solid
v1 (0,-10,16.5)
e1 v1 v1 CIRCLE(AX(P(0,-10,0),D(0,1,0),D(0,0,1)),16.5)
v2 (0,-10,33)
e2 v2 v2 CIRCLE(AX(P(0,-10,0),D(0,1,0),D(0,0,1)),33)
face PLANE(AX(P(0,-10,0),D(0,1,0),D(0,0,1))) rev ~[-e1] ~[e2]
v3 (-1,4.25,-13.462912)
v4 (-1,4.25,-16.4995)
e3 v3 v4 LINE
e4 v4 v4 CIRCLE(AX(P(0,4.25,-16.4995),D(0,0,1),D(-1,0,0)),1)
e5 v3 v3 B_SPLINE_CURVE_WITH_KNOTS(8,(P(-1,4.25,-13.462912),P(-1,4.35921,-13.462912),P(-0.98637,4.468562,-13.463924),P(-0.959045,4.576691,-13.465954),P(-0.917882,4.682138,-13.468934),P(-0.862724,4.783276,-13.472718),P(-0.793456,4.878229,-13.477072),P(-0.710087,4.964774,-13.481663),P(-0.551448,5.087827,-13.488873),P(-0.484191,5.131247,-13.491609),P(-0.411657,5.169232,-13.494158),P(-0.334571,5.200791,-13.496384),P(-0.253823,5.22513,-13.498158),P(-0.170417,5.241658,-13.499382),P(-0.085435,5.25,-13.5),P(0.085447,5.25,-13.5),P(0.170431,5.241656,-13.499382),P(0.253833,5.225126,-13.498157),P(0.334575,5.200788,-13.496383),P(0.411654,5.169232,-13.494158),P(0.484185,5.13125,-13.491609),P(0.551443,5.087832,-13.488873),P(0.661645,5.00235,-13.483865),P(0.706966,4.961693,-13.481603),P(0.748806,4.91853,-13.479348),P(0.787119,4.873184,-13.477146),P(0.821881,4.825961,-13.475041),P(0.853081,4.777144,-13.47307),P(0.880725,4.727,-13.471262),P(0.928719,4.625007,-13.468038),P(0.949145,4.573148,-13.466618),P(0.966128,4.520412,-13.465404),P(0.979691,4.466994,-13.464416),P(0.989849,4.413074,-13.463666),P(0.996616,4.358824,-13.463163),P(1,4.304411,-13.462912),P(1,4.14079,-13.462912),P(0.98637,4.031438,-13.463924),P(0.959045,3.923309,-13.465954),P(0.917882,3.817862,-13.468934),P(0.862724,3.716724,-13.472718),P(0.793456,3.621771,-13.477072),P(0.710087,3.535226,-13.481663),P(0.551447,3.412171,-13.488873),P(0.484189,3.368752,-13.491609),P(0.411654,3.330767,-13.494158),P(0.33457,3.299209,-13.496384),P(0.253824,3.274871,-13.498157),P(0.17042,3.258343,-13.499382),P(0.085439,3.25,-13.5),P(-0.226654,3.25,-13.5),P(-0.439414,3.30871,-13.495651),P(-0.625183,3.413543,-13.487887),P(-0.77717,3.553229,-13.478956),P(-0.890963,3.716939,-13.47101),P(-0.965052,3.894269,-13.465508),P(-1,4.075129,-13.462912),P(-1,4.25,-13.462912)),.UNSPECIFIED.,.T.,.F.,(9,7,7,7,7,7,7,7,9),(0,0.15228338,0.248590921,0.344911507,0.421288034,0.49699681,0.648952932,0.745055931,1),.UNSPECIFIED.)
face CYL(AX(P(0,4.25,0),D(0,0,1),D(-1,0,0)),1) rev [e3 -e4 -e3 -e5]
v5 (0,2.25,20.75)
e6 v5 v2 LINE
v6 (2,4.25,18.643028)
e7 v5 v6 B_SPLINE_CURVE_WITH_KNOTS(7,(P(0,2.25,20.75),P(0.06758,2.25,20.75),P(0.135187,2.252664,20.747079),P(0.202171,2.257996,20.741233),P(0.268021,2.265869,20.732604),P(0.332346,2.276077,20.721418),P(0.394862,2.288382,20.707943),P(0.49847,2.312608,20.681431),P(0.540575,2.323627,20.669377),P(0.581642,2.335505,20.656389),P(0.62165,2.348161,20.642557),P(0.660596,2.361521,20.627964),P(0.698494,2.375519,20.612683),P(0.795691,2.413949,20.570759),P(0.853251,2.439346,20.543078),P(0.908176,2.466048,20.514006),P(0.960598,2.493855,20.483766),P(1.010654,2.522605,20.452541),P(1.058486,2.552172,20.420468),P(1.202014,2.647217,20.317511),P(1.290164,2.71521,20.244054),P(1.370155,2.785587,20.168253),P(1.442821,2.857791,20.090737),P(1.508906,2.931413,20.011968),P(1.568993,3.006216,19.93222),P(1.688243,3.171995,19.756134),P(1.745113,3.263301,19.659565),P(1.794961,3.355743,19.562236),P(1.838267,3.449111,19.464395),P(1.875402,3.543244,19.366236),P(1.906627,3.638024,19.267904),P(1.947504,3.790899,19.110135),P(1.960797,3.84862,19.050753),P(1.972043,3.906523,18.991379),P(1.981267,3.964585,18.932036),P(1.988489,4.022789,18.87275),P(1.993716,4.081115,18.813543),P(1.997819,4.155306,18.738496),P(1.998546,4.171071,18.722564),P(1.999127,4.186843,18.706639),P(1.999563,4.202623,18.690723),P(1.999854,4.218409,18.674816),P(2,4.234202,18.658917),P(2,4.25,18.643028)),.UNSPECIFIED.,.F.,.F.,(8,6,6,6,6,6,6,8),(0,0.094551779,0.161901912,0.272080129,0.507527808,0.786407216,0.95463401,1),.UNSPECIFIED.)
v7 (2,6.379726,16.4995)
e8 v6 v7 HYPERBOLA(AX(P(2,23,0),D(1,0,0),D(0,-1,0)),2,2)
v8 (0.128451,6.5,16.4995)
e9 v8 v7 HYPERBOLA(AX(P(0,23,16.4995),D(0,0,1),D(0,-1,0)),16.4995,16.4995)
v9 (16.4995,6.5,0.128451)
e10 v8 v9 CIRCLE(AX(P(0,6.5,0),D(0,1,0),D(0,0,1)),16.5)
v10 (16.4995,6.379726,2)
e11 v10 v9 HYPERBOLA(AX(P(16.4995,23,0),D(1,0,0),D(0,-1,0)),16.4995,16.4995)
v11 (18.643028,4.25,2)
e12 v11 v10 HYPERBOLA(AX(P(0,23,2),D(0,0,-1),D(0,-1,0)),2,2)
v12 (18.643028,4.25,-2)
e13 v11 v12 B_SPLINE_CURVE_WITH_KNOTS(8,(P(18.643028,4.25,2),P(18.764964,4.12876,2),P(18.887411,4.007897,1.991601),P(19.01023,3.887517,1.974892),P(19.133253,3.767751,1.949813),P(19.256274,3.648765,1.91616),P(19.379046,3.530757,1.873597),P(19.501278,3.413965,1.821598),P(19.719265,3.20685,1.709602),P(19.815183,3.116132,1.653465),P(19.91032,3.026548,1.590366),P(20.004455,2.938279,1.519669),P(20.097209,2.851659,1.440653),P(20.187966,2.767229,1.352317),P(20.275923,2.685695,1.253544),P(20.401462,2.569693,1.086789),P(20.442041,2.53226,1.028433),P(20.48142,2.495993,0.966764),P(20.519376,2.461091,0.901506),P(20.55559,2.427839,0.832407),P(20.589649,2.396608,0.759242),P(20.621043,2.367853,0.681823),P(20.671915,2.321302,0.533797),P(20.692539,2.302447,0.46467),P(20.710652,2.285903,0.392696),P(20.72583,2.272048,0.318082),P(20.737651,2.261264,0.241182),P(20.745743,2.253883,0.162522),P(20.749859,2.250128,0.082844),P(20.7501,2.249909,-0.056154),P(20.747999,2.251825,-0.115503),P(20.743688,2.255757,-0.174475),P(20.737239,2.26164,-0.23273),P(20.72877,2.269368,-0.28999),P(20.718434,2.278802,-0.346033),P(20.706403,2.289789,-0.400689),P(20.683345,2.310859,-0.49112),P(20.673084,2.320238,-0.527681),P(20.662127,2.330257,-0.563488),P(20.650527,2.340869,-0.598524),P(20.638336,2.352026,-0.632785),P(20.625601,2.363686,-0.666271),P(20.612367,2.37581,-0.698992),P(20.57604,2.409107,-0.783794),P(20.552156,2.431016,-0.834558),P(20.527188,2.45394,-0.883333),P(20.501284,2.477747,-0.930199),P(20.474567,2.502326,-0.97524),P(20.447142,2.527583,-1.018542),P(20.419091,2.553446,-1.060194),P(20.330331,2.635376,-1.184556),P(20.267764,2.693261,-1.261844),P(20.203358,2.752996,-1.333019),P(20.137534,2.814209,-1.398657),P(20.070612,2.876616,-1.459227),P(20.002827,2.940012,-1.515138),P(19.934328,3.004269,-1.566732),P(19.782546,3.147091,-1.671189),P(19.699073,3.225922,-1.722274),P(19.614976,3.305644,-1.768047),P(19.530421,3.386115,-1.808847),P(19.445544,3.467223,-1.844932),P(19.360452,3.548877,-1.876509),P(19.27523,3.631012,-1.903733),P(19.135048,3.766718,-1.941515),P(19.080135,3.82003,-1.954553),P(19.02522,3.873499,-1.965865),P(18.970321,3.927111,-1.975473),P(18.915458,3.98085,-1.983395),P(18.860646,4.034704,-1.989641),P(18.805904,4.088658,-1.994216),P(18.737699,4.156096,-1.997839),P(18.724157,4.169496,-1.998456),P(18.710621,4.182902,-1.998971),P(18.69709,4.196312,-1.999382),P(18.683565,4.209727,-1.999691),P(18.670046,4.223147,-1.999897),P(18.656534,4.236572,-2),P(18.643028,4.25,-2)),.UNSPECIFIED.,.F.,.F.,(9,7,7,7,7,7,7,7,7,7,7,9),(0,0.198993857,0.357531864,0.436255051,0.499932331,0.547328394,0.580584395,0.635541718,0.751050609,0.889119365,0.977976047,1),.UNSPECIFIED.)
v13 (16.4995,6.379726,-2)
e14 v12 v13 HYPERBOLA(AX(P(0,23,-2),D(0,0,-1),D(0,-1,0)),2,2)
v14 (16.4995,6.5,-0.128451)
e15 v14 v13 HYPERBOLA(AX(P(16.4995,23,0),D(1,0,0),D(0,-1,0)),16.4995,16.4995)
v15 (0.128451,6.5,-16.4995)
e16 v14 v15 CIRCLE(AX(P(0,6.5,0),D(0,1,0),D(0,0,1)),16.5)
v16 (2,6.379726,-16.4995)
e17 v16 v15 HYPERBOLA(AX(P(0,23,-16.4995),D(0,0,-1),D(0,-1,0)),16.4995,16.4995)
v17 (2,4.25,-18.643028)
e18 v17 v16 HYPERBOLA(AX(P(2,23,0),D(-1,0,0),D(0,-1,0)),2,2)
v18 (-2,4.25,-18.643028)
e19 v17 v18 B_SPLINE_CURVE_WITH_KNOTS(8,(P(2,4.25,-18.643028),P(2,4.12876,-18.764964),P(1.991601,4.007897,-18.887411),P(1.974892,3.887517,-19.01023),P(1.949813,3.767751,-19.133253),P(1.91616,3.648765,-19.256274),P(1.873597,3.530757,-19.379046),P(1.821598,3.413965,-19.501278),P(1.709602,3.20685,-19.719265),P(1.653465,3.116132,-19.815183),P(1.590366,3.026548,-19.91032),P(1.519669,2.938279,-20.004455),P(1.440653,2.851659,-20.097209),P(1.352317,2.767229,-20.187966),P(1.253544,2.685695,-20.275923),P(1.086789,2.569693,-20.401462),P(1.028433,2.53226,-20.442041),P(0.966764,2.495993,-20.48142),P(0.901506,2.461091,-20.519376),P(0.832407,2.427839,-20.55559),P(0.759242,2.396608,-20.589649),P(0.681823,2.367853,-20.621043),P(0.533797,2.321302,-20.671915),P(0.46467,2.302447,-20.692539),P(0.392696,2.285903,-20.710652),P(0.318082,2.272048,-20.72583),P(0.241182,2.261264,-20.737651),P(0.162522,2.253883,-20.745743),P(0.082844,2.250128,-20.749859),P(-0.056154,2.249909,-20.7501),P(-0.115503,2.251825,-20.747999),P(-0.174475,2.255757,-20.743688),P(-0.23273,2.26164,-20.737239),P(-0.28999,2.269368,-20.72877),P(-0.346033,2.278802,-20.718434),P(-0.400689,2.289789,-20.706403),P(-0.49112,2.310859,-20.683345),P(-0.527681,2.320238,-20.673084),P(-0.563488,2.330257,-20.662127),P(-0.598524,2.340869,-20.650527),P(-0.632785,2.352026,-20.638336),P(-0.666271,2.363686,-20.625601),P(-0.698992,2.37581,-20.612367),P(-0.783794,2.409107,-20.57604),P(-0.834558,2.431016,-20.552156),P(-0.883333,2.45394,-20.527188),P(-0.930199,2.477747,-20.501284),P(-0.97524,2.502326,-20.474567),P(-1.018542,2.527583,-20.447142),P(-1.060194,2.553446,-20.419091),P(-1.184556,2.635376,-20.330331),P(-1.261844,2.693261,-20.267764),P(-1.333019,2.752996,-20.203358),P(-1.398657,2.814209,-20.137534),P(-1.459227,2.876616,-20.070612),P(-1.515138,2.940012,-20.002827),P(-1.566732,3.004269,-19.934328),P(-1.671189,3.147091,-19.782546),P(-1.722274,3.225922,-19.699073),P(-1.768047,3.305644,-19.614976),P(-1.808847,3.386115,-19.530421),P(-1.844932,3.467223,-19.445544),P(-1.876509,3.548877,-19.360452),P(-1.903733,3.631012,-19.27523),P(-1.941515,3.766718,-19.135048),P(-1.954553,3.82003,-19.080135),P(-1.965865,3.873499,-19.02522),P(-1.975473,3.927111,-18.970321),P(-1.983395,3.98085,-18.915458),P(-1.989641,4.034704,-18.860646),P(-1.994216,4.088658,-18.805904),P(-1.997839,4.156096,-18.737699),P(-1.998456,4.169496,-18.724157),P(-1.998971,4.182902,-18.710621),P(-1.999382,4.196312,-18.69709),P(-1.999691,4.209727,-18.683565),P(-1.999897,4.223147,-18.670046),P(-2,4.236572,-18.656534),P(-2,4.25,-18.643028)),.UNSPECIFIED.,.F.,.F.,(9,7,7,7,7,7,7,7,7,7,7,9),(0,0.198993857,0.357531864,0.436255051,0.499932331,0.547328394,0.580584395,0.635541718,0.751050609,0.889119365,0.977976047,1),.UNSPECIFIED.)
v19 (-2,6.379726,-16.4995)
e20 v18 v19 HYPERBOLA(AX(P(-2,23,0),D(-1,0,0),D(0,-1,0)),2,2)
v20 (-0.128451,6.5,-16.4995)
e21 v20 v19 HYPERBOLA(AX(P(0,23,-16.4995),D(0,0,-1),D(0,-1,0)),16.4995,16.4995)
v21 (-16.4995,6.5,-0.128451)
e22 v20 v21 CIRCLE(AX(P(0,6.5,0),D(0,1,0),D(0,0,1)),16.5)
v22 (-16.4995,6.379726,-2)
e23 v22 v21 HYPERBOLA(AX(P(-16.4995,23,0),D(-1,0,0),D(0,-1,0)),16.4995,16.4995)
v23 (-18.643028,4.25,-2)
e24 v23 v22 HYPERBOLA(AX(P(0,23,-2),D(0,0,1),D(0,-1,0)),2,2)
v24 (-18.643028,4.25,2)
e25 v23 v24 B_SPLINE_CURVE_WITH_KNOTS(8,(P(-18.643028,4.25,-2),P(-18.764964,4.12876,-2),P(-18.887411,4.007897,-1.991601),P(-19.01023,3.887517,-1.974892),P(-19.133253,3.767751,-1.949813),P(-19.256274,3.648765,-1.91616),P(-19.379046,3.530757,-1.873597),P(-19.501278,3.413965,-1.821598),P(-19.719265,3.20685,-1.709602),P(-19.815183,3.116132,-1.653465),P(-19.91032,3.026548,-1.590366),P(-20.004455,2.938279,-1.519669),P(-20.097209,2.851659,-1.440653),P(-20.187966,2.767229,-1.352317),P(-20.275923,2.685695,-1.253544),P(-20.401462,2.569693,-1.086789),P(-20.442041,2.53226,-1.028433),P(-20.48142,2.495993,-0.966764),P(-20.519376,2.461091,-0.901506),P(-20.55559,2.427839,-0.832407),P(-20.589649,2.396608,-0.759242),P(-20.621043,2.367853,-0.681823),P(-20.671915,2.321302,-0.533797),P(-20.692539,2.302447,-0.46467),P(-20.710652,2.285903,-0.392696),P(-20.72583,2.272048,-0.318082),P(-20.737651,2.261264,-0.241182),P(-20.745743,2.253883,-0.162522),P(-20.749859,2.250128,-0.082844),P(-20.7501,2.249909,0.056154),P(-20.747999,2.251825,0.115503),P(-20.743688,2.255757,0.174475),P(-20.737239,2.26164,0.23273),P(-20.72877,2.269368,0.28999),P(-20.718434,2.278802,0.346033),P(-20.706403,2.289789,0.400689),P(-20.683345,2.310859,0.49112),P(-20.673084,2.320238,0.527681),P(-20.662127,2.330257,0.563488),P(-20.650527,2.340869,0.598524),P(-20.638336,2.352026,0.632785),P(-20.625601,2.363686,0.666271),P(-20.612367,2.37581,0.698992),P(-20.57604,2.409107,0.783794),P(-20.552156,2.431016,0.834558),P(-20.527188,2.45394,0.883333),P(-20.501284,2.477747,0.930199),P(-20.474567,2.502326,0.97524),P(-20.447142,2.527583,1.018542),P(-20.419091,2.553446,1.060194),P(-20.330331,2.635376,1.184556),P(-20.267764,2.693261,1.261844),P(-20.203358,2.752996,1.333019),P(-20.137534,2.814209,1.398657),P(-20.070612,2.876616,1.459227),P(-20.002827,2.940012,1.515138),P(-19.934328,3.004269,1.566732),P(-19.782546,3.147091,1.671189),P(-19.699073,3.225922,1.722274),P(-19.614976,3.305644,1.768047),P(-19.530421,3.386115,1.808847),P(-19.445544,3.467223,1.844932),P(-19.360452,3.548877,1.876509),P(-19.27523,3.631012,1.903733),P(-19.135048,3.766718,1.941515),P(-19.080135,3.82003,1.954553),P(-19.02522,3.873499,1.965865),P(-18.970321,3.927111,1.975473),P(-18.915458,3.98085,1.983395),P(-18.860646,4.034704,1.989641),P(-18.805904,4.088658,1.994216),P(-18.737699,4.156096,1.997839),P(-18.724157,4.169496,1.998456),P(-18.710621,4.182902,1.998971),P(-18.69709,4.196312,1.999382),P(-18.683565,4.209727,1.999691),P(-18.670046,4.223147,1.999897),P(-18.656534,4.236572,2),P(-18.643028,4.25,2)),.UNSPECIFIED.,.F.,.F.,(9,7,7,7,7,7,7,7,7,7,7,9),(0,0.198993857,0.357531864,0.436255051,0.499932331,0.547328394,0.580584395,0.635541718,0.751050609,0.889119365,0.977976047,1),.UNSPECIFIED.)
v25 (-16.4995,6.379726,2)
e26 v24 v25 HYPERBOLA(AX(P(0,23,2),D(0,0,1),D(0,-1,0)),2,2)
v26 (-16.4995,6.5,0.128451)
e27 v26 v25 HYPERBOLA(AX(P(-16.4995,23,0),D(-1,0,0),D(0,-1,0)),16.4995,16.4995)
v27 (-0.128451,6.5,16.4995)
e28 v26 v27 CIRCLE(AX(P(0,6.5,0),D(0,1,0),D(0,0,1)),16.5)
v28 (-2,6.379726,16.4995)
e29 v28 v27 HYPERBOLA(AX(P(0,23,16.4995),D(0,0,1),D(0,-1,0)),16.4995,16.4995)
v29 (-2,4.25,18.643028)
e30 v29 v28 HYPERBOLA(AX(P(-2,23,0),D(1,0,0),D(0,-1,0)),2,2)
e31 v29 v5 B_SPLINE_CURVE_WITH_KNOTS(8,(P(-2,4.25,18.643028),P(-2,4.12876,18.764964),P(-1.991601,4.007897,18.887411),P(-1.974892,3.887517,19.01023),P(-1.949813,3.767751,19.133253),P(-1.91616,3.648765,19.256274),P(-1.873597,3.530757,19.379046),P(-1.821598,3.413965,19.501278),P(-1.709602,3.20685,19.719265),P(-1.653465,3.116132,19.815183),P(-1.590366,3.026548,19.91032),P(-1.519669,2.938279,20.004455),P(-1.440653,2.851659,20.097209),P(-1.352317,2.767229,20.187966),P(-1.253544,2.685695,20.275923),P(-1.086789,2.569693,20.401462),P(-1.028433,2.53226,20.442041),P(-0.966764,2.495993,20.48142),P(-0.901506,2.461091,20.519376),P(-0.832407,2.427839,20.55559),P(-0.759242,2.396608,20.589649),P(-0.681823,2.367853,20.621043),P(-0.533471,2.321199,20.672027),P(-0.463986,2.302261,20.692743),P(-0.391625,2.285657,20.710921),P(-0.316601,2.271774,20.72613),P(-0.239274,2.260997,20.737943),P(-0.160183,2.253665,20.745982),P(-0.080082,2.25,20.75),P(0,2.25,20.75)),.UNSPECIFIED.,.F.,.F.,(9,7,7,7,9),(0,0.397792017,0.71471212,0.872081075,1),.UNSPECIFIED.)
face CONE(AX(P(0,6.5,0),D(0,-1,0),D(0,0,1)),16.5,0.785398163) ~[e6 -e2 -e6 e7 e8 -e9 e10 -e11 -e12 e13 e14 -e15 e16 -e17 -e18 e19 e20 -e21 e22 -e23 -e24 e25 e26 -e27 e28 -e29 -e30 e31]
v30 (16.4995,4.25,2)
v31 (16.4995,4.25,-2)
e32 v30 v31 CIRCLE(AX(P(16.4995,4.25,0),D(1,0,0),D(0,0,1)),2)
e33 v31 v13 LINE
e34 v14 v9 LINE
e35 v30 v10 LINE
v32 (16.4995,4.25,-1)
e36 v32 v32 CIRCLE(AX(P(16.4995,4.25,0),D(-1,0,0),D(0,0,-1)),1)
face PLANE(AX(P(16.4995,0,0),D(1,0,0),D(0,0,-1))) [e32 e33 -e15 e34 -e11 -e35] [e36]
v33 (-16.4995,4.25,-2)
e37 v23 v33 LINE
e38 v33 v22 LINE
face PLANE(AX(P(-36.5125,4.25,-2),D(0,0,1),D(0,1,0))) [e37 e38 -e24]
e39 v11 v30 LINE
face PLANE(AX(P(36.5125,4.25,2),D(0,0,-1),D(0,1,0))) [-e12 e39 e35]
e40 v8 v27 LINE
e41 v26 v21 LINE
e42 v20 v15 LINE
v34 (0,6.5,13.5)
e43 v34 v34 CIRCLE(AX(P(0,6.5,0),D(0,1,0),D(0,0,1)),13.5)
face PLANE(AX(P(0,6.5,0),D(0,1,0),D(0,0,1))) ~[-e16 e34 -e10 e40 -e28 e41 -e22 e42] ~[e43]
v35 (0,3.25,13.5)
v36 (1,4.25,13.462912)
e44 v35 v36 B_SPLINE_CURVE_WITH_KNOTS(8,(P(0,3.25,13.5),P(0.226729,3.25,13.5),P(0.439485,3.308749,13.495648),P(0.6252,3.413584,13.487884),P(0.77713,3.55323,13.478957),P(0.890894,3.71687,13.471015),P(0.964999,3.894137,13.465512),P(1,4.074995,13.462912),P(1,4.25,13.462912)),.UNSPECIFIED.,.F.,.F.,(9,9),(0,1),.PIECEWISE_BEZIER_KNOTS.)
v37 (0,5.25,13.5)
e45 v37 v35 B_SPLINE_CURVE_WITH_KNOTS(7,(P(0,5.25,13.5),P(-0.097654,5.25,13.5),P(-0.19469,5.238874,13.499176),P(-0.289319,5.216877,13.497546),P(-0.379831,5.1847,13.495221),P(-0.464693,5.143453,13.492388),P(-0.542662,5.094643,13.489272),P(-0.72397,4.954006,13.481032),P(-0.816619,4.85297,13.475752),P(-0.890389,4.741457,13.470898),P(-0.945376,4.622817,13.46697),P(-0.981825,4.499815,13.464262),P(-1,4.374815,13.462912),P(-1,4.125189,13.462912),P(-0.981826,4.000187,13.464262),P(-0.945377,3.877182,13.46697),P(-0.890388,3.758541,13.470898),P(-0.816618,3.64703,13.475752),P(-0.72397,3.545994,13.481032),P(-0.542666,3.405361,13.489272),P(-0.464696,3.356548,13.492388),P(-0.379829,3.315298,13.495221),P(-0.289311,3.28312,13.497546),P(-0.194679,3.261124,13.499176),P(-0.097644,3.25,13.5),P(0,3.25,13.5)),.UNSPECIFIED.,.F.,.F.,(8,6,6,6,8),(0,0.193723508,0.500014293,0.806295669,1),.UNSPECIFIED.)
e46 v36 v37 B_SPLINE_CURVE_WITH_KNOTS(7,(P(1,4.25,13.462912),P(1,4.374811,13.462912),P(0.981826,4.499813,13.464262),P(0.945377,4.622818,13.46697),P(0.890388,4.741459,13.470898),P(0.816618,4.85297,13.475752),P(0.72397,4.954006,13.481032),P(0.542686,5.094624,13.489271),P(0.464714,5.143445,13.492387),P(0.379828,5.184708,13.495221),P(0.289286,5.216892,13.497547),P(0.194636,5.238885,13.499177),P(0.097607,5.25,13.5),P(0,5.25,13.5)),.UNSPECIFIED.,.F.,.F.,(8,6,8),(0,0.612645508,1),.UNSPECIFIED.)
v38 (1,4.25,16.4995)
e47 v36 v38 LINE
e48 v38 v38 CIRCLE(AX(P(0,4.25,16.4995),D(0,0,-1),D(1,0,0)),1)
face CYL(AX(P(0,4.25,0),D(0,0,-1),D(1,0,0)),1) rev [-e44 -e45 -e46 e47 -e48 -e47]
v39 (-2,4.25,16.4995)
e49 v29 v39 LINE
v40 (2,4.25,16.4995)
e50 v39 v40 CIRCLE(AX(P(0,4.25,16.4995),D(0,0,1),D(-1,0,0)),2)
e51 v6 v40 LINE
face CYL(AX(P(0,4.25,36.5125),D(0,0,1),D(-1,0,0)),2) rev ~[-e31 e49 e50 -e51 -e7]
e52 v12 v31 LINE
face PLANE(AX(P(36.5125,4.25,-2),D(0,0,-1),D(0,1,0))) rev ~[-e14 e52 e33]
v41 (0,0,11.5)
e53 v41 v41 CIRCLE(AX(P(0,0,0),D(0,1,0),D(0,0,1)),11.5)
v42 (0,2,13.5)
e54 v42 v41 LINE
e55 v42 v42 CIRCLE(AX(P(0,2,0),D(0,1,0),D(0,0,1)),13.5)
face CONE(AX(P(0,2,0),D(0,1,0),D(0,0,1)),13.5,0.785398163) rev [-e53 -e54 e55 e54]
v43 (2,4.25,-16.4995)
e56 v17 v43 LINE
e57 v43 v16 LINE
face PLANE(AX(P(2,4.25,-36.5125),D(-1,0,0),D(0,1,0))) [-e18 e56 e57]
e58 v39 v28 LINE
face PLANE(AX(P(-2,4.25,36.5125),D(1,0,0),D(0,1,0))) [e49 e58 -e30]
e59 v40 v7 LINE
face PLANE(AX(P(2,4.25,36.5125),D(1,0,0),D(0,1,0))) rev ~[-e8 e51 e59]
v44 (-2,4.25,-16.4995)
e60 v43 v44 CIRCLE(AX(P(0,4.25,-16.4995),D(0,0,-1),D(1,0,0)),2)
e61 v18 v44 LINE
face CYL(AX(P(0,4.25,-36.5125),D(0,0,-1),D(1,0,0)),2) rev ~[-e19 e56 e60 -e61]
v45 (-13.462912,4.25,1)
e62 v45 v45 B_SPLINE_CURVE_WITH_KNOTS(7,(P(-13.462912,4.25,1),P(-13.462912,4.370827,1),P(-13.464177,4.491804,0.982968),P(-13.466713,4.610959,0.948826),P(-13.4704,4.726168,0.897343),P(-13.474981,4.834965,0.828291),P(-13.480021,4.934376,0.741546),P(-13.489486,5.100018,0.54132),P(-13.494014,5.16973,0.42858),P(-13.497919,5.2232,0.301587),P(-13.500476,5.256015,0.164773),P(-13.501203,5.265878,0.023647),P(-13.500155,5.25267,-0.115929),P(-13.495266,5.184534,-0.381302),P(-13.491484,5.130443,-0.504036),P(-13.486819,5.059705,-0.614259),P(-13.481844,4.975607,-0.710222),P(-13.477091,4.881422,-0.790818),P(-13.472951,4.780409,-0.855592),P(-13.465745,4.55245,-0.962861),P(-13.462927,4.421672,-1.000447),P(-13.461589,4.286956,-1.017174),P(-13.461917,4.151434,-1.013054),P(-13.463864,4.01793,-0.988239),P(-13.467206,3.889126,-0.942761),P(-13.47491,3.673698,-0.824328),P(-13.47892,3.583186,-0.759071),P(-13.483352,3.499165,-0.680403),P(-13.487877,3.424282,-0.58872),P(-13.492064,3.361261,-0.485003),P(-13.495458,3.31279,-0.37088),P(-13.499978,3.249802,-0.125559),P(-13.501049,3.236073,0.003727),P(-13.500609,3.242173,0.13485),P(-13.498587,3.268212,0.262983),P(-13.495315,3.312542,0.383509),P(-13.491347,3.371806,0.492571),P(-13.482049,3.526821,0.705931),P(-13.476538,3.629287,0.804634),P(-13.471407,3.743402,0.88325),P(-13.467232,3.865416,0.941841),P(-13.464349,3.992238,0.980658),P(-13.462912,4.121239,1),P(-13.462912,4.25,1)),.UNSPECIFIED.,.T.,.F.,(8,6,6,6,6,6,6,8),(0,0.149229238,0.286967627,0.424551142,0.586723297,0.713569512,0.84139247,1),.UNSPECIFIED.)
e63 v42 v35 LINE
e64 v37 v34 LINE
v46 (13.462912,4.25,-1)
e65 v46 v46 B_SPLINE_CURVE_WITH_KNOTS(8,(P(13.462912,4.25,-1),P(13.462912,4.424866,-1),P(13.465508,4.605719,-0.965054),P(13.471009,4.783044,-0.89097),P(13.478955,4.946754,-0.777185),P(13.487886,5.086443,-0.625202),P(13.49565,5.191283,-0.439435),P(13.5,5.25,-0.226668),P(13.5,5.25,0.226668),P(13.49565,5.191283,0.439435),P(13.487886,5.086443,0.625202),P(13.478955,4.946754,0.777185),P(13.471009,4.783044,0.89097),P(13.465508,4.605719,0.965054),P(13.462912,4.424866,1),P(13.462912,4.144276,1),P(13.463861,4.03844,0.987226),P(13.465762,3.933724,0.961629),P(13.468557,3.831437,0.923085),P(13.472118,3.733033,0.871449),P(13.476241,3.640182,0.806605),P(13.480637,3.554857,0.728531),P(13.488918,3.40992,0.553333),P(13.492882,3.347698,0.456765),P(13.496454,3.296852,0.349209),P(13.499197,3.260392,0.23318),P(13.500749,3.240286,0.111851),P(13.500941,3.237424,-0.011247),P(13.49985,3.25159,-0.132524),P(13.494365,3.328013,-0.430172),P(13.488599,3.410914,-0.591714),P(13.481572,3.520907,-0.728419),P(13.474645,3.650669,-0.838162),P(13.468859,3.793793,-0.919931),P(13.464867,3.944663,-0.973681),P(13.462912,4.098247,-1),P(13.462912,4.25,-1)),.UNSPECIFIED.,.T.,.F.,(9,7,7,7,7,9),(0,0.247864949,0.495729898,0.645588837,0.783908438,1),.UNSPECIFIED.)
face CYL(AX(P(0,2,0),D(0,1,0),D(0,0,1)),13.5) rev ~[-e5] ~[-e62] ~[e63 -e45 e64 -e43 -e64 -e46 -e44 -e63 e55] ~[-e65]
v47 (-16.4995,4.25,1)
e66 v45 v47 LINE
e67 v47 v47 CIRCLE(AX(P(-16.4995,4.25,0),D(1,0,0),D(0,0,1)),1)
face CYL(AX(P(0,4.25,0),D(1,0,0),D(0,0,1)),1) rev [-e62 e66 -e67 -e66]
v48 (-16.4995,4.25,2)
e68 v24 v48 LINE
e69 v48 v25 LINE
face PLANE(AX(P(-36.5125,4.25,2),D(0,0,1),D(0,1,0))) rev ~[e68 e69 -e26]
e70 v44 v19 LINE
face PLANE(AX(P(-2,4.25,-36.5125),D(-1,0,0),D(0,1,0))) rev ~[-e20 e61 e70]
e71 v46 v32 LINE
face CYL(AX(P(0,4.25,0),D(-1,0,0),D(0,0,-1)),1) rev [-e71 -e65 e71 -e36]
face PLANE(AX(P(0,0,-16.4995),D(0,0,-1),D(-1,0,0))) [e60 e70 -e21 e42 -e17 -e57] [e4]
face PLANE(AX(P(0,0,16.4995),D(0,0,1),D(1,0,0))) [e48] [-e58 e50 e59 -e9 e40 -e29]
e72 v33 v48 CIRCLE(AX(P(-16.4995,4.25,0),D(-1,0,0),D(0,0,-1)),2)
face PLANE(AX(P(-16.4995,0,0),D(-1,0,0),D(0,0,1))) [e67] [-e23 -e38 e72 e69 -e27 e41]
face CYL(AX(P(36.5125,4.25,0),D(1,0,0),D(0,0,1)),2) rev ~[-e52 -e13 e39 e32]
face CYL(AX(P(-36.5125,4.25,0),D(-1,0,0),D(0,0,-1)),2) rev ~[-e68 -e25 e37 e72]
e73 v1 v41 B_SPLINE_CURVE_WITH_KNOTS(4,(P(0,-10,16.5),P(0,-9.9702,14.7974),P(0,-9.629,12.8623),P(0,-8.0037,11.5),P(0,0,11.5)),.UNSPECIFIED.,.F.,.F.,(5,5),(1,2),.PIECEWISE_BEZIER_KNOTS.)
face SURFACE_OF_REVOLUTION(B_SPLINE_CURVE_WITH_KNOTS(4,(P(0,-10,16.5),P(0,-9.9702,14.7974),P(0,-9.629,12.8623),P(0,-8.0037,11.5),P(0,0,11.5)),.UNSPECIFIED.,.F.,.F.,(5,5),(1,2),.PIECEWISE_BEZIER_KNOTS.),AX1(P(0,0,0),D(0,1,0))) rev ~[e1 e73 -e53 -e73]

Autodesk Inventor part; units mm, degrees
ref_plane "YZ Plane" through (0, 0, 0) normal (1, 0, 0) x (0, 1, 0)
ref_plane "XZ Plane" through (0, 0, 0) normal (0, 1, 0) x (-1, 0, 0)
sketch "Эскиз1" plane through (0, 0, 0) normal (1, 0, 0) x (0, 1, 0)
  line L0 (0, 0) -> (0, 11.5)
  line L1 (0, 11.5) -> (0, 13.5)
  line L2 (0, 13.5) -> (2, 13.5)
  line L3 (2, 13.5) -> (0, 11.5)
  line L4 (2, 13.5) -> (6.5, 13.5)
  line L5 (6.5, 13.5) -> (6.5, 16.5)
  line L6 (6.5, 16.5) -> (2, 16.5)
  line L7 (0, 13.5) -> (0, 16.5)
  line L8 (0, 16.5) -> (2, 16.5)
  line L9 (6.5, 16.5) -> (-10, 33)
  line L10 (6.5, 16.5) -> (32.9156, 16.5) construction
  line L11 (0, 33) -> (-10, 33)
  line L12 (-10, 33) -> (-10, 16.5)
  line L13 (-10, 16.5) -> (-9.9702, 14.7974) construction
  line L14 (-9.9702, 14.7974) -> (-9.629, 12.8623) construction
  line L15 (-9.629, 12.8623) -> (-8.0037, 11.5) construction
  line L16 (-8.0037, 11.5) -> (0, 11.5) construction
  spline S0 degree 4 poles (-10, 16.5) (-9.9702, 14.7974) (-9.629, 12.8623) (-8.0037, 11.5) (0, 11.5) knots 1 1 1 1 1 2 2 2 2 2
  line L17 (0, 0) -> (14.3588, 0)
  dimension "d1" = 2
  dimension "d2" = 2
  dimension "d3" = 13.5
  dimension "d4" = 3
  dimension "d5" = 4.5
  dimension "d6" = 16.5
  dimension "d7" = 135
revolve "Вращение1" add sketch "Эскиз1" angle 360 about axis through (0, 0, 0) along (0, 1, 0)
sketch "Эскиз2" plane through (0, 0, 0) normal (0, 0, 1) x (1, 0, 0)
  line L0 (13.5, 6.5) -> (-13.5, 6.5) projected
  line L1 (13.5, 2) -> (-13.5, 2) projected
  line L2 (0, 2) -> (0, 6.5)
  circle A0 centre (0, 4.25) radius 1
  point P0 (0, 0)
  dimension "d9" = 2
extrude "Выдавливание1" cut sketch "Эскиз2" along normal blind 30
ref_plane "РабПлоскость1" through (0, 0, 36.5125) normal (0, 0, 1) x (1, 0, 0)
sketch "Эскиз3" plane through (0, 0, 36.5125) normal (0, 0, 1) x (1, 0, 0)
  line L0 (16.5, 6.5) -> (-16.5, 6.5) projected
  arc A0 (-2, 4.25) -> (2, 4.25) centre (0, 4.25) ccw
  line L1 (-2, 4.25) -> (-2, 6.5)
  line L2 (2, 4.25) -> (2, 6.5)
  point P0 (0, 0)
  point P1 (0.9986, 4.3033)
  dimension "d14" = 4
extrude "Выдавливание2" cut sketch "Эскиз3" against normal blind 20.013
pattern_circular "Круговой массив1" count 4 over 360 about axis through (0, 4.25, 0) along (0, 1, 0) of "Выдавливание2", "Выдавливание1"
properties part number "Статор без зубьев"
